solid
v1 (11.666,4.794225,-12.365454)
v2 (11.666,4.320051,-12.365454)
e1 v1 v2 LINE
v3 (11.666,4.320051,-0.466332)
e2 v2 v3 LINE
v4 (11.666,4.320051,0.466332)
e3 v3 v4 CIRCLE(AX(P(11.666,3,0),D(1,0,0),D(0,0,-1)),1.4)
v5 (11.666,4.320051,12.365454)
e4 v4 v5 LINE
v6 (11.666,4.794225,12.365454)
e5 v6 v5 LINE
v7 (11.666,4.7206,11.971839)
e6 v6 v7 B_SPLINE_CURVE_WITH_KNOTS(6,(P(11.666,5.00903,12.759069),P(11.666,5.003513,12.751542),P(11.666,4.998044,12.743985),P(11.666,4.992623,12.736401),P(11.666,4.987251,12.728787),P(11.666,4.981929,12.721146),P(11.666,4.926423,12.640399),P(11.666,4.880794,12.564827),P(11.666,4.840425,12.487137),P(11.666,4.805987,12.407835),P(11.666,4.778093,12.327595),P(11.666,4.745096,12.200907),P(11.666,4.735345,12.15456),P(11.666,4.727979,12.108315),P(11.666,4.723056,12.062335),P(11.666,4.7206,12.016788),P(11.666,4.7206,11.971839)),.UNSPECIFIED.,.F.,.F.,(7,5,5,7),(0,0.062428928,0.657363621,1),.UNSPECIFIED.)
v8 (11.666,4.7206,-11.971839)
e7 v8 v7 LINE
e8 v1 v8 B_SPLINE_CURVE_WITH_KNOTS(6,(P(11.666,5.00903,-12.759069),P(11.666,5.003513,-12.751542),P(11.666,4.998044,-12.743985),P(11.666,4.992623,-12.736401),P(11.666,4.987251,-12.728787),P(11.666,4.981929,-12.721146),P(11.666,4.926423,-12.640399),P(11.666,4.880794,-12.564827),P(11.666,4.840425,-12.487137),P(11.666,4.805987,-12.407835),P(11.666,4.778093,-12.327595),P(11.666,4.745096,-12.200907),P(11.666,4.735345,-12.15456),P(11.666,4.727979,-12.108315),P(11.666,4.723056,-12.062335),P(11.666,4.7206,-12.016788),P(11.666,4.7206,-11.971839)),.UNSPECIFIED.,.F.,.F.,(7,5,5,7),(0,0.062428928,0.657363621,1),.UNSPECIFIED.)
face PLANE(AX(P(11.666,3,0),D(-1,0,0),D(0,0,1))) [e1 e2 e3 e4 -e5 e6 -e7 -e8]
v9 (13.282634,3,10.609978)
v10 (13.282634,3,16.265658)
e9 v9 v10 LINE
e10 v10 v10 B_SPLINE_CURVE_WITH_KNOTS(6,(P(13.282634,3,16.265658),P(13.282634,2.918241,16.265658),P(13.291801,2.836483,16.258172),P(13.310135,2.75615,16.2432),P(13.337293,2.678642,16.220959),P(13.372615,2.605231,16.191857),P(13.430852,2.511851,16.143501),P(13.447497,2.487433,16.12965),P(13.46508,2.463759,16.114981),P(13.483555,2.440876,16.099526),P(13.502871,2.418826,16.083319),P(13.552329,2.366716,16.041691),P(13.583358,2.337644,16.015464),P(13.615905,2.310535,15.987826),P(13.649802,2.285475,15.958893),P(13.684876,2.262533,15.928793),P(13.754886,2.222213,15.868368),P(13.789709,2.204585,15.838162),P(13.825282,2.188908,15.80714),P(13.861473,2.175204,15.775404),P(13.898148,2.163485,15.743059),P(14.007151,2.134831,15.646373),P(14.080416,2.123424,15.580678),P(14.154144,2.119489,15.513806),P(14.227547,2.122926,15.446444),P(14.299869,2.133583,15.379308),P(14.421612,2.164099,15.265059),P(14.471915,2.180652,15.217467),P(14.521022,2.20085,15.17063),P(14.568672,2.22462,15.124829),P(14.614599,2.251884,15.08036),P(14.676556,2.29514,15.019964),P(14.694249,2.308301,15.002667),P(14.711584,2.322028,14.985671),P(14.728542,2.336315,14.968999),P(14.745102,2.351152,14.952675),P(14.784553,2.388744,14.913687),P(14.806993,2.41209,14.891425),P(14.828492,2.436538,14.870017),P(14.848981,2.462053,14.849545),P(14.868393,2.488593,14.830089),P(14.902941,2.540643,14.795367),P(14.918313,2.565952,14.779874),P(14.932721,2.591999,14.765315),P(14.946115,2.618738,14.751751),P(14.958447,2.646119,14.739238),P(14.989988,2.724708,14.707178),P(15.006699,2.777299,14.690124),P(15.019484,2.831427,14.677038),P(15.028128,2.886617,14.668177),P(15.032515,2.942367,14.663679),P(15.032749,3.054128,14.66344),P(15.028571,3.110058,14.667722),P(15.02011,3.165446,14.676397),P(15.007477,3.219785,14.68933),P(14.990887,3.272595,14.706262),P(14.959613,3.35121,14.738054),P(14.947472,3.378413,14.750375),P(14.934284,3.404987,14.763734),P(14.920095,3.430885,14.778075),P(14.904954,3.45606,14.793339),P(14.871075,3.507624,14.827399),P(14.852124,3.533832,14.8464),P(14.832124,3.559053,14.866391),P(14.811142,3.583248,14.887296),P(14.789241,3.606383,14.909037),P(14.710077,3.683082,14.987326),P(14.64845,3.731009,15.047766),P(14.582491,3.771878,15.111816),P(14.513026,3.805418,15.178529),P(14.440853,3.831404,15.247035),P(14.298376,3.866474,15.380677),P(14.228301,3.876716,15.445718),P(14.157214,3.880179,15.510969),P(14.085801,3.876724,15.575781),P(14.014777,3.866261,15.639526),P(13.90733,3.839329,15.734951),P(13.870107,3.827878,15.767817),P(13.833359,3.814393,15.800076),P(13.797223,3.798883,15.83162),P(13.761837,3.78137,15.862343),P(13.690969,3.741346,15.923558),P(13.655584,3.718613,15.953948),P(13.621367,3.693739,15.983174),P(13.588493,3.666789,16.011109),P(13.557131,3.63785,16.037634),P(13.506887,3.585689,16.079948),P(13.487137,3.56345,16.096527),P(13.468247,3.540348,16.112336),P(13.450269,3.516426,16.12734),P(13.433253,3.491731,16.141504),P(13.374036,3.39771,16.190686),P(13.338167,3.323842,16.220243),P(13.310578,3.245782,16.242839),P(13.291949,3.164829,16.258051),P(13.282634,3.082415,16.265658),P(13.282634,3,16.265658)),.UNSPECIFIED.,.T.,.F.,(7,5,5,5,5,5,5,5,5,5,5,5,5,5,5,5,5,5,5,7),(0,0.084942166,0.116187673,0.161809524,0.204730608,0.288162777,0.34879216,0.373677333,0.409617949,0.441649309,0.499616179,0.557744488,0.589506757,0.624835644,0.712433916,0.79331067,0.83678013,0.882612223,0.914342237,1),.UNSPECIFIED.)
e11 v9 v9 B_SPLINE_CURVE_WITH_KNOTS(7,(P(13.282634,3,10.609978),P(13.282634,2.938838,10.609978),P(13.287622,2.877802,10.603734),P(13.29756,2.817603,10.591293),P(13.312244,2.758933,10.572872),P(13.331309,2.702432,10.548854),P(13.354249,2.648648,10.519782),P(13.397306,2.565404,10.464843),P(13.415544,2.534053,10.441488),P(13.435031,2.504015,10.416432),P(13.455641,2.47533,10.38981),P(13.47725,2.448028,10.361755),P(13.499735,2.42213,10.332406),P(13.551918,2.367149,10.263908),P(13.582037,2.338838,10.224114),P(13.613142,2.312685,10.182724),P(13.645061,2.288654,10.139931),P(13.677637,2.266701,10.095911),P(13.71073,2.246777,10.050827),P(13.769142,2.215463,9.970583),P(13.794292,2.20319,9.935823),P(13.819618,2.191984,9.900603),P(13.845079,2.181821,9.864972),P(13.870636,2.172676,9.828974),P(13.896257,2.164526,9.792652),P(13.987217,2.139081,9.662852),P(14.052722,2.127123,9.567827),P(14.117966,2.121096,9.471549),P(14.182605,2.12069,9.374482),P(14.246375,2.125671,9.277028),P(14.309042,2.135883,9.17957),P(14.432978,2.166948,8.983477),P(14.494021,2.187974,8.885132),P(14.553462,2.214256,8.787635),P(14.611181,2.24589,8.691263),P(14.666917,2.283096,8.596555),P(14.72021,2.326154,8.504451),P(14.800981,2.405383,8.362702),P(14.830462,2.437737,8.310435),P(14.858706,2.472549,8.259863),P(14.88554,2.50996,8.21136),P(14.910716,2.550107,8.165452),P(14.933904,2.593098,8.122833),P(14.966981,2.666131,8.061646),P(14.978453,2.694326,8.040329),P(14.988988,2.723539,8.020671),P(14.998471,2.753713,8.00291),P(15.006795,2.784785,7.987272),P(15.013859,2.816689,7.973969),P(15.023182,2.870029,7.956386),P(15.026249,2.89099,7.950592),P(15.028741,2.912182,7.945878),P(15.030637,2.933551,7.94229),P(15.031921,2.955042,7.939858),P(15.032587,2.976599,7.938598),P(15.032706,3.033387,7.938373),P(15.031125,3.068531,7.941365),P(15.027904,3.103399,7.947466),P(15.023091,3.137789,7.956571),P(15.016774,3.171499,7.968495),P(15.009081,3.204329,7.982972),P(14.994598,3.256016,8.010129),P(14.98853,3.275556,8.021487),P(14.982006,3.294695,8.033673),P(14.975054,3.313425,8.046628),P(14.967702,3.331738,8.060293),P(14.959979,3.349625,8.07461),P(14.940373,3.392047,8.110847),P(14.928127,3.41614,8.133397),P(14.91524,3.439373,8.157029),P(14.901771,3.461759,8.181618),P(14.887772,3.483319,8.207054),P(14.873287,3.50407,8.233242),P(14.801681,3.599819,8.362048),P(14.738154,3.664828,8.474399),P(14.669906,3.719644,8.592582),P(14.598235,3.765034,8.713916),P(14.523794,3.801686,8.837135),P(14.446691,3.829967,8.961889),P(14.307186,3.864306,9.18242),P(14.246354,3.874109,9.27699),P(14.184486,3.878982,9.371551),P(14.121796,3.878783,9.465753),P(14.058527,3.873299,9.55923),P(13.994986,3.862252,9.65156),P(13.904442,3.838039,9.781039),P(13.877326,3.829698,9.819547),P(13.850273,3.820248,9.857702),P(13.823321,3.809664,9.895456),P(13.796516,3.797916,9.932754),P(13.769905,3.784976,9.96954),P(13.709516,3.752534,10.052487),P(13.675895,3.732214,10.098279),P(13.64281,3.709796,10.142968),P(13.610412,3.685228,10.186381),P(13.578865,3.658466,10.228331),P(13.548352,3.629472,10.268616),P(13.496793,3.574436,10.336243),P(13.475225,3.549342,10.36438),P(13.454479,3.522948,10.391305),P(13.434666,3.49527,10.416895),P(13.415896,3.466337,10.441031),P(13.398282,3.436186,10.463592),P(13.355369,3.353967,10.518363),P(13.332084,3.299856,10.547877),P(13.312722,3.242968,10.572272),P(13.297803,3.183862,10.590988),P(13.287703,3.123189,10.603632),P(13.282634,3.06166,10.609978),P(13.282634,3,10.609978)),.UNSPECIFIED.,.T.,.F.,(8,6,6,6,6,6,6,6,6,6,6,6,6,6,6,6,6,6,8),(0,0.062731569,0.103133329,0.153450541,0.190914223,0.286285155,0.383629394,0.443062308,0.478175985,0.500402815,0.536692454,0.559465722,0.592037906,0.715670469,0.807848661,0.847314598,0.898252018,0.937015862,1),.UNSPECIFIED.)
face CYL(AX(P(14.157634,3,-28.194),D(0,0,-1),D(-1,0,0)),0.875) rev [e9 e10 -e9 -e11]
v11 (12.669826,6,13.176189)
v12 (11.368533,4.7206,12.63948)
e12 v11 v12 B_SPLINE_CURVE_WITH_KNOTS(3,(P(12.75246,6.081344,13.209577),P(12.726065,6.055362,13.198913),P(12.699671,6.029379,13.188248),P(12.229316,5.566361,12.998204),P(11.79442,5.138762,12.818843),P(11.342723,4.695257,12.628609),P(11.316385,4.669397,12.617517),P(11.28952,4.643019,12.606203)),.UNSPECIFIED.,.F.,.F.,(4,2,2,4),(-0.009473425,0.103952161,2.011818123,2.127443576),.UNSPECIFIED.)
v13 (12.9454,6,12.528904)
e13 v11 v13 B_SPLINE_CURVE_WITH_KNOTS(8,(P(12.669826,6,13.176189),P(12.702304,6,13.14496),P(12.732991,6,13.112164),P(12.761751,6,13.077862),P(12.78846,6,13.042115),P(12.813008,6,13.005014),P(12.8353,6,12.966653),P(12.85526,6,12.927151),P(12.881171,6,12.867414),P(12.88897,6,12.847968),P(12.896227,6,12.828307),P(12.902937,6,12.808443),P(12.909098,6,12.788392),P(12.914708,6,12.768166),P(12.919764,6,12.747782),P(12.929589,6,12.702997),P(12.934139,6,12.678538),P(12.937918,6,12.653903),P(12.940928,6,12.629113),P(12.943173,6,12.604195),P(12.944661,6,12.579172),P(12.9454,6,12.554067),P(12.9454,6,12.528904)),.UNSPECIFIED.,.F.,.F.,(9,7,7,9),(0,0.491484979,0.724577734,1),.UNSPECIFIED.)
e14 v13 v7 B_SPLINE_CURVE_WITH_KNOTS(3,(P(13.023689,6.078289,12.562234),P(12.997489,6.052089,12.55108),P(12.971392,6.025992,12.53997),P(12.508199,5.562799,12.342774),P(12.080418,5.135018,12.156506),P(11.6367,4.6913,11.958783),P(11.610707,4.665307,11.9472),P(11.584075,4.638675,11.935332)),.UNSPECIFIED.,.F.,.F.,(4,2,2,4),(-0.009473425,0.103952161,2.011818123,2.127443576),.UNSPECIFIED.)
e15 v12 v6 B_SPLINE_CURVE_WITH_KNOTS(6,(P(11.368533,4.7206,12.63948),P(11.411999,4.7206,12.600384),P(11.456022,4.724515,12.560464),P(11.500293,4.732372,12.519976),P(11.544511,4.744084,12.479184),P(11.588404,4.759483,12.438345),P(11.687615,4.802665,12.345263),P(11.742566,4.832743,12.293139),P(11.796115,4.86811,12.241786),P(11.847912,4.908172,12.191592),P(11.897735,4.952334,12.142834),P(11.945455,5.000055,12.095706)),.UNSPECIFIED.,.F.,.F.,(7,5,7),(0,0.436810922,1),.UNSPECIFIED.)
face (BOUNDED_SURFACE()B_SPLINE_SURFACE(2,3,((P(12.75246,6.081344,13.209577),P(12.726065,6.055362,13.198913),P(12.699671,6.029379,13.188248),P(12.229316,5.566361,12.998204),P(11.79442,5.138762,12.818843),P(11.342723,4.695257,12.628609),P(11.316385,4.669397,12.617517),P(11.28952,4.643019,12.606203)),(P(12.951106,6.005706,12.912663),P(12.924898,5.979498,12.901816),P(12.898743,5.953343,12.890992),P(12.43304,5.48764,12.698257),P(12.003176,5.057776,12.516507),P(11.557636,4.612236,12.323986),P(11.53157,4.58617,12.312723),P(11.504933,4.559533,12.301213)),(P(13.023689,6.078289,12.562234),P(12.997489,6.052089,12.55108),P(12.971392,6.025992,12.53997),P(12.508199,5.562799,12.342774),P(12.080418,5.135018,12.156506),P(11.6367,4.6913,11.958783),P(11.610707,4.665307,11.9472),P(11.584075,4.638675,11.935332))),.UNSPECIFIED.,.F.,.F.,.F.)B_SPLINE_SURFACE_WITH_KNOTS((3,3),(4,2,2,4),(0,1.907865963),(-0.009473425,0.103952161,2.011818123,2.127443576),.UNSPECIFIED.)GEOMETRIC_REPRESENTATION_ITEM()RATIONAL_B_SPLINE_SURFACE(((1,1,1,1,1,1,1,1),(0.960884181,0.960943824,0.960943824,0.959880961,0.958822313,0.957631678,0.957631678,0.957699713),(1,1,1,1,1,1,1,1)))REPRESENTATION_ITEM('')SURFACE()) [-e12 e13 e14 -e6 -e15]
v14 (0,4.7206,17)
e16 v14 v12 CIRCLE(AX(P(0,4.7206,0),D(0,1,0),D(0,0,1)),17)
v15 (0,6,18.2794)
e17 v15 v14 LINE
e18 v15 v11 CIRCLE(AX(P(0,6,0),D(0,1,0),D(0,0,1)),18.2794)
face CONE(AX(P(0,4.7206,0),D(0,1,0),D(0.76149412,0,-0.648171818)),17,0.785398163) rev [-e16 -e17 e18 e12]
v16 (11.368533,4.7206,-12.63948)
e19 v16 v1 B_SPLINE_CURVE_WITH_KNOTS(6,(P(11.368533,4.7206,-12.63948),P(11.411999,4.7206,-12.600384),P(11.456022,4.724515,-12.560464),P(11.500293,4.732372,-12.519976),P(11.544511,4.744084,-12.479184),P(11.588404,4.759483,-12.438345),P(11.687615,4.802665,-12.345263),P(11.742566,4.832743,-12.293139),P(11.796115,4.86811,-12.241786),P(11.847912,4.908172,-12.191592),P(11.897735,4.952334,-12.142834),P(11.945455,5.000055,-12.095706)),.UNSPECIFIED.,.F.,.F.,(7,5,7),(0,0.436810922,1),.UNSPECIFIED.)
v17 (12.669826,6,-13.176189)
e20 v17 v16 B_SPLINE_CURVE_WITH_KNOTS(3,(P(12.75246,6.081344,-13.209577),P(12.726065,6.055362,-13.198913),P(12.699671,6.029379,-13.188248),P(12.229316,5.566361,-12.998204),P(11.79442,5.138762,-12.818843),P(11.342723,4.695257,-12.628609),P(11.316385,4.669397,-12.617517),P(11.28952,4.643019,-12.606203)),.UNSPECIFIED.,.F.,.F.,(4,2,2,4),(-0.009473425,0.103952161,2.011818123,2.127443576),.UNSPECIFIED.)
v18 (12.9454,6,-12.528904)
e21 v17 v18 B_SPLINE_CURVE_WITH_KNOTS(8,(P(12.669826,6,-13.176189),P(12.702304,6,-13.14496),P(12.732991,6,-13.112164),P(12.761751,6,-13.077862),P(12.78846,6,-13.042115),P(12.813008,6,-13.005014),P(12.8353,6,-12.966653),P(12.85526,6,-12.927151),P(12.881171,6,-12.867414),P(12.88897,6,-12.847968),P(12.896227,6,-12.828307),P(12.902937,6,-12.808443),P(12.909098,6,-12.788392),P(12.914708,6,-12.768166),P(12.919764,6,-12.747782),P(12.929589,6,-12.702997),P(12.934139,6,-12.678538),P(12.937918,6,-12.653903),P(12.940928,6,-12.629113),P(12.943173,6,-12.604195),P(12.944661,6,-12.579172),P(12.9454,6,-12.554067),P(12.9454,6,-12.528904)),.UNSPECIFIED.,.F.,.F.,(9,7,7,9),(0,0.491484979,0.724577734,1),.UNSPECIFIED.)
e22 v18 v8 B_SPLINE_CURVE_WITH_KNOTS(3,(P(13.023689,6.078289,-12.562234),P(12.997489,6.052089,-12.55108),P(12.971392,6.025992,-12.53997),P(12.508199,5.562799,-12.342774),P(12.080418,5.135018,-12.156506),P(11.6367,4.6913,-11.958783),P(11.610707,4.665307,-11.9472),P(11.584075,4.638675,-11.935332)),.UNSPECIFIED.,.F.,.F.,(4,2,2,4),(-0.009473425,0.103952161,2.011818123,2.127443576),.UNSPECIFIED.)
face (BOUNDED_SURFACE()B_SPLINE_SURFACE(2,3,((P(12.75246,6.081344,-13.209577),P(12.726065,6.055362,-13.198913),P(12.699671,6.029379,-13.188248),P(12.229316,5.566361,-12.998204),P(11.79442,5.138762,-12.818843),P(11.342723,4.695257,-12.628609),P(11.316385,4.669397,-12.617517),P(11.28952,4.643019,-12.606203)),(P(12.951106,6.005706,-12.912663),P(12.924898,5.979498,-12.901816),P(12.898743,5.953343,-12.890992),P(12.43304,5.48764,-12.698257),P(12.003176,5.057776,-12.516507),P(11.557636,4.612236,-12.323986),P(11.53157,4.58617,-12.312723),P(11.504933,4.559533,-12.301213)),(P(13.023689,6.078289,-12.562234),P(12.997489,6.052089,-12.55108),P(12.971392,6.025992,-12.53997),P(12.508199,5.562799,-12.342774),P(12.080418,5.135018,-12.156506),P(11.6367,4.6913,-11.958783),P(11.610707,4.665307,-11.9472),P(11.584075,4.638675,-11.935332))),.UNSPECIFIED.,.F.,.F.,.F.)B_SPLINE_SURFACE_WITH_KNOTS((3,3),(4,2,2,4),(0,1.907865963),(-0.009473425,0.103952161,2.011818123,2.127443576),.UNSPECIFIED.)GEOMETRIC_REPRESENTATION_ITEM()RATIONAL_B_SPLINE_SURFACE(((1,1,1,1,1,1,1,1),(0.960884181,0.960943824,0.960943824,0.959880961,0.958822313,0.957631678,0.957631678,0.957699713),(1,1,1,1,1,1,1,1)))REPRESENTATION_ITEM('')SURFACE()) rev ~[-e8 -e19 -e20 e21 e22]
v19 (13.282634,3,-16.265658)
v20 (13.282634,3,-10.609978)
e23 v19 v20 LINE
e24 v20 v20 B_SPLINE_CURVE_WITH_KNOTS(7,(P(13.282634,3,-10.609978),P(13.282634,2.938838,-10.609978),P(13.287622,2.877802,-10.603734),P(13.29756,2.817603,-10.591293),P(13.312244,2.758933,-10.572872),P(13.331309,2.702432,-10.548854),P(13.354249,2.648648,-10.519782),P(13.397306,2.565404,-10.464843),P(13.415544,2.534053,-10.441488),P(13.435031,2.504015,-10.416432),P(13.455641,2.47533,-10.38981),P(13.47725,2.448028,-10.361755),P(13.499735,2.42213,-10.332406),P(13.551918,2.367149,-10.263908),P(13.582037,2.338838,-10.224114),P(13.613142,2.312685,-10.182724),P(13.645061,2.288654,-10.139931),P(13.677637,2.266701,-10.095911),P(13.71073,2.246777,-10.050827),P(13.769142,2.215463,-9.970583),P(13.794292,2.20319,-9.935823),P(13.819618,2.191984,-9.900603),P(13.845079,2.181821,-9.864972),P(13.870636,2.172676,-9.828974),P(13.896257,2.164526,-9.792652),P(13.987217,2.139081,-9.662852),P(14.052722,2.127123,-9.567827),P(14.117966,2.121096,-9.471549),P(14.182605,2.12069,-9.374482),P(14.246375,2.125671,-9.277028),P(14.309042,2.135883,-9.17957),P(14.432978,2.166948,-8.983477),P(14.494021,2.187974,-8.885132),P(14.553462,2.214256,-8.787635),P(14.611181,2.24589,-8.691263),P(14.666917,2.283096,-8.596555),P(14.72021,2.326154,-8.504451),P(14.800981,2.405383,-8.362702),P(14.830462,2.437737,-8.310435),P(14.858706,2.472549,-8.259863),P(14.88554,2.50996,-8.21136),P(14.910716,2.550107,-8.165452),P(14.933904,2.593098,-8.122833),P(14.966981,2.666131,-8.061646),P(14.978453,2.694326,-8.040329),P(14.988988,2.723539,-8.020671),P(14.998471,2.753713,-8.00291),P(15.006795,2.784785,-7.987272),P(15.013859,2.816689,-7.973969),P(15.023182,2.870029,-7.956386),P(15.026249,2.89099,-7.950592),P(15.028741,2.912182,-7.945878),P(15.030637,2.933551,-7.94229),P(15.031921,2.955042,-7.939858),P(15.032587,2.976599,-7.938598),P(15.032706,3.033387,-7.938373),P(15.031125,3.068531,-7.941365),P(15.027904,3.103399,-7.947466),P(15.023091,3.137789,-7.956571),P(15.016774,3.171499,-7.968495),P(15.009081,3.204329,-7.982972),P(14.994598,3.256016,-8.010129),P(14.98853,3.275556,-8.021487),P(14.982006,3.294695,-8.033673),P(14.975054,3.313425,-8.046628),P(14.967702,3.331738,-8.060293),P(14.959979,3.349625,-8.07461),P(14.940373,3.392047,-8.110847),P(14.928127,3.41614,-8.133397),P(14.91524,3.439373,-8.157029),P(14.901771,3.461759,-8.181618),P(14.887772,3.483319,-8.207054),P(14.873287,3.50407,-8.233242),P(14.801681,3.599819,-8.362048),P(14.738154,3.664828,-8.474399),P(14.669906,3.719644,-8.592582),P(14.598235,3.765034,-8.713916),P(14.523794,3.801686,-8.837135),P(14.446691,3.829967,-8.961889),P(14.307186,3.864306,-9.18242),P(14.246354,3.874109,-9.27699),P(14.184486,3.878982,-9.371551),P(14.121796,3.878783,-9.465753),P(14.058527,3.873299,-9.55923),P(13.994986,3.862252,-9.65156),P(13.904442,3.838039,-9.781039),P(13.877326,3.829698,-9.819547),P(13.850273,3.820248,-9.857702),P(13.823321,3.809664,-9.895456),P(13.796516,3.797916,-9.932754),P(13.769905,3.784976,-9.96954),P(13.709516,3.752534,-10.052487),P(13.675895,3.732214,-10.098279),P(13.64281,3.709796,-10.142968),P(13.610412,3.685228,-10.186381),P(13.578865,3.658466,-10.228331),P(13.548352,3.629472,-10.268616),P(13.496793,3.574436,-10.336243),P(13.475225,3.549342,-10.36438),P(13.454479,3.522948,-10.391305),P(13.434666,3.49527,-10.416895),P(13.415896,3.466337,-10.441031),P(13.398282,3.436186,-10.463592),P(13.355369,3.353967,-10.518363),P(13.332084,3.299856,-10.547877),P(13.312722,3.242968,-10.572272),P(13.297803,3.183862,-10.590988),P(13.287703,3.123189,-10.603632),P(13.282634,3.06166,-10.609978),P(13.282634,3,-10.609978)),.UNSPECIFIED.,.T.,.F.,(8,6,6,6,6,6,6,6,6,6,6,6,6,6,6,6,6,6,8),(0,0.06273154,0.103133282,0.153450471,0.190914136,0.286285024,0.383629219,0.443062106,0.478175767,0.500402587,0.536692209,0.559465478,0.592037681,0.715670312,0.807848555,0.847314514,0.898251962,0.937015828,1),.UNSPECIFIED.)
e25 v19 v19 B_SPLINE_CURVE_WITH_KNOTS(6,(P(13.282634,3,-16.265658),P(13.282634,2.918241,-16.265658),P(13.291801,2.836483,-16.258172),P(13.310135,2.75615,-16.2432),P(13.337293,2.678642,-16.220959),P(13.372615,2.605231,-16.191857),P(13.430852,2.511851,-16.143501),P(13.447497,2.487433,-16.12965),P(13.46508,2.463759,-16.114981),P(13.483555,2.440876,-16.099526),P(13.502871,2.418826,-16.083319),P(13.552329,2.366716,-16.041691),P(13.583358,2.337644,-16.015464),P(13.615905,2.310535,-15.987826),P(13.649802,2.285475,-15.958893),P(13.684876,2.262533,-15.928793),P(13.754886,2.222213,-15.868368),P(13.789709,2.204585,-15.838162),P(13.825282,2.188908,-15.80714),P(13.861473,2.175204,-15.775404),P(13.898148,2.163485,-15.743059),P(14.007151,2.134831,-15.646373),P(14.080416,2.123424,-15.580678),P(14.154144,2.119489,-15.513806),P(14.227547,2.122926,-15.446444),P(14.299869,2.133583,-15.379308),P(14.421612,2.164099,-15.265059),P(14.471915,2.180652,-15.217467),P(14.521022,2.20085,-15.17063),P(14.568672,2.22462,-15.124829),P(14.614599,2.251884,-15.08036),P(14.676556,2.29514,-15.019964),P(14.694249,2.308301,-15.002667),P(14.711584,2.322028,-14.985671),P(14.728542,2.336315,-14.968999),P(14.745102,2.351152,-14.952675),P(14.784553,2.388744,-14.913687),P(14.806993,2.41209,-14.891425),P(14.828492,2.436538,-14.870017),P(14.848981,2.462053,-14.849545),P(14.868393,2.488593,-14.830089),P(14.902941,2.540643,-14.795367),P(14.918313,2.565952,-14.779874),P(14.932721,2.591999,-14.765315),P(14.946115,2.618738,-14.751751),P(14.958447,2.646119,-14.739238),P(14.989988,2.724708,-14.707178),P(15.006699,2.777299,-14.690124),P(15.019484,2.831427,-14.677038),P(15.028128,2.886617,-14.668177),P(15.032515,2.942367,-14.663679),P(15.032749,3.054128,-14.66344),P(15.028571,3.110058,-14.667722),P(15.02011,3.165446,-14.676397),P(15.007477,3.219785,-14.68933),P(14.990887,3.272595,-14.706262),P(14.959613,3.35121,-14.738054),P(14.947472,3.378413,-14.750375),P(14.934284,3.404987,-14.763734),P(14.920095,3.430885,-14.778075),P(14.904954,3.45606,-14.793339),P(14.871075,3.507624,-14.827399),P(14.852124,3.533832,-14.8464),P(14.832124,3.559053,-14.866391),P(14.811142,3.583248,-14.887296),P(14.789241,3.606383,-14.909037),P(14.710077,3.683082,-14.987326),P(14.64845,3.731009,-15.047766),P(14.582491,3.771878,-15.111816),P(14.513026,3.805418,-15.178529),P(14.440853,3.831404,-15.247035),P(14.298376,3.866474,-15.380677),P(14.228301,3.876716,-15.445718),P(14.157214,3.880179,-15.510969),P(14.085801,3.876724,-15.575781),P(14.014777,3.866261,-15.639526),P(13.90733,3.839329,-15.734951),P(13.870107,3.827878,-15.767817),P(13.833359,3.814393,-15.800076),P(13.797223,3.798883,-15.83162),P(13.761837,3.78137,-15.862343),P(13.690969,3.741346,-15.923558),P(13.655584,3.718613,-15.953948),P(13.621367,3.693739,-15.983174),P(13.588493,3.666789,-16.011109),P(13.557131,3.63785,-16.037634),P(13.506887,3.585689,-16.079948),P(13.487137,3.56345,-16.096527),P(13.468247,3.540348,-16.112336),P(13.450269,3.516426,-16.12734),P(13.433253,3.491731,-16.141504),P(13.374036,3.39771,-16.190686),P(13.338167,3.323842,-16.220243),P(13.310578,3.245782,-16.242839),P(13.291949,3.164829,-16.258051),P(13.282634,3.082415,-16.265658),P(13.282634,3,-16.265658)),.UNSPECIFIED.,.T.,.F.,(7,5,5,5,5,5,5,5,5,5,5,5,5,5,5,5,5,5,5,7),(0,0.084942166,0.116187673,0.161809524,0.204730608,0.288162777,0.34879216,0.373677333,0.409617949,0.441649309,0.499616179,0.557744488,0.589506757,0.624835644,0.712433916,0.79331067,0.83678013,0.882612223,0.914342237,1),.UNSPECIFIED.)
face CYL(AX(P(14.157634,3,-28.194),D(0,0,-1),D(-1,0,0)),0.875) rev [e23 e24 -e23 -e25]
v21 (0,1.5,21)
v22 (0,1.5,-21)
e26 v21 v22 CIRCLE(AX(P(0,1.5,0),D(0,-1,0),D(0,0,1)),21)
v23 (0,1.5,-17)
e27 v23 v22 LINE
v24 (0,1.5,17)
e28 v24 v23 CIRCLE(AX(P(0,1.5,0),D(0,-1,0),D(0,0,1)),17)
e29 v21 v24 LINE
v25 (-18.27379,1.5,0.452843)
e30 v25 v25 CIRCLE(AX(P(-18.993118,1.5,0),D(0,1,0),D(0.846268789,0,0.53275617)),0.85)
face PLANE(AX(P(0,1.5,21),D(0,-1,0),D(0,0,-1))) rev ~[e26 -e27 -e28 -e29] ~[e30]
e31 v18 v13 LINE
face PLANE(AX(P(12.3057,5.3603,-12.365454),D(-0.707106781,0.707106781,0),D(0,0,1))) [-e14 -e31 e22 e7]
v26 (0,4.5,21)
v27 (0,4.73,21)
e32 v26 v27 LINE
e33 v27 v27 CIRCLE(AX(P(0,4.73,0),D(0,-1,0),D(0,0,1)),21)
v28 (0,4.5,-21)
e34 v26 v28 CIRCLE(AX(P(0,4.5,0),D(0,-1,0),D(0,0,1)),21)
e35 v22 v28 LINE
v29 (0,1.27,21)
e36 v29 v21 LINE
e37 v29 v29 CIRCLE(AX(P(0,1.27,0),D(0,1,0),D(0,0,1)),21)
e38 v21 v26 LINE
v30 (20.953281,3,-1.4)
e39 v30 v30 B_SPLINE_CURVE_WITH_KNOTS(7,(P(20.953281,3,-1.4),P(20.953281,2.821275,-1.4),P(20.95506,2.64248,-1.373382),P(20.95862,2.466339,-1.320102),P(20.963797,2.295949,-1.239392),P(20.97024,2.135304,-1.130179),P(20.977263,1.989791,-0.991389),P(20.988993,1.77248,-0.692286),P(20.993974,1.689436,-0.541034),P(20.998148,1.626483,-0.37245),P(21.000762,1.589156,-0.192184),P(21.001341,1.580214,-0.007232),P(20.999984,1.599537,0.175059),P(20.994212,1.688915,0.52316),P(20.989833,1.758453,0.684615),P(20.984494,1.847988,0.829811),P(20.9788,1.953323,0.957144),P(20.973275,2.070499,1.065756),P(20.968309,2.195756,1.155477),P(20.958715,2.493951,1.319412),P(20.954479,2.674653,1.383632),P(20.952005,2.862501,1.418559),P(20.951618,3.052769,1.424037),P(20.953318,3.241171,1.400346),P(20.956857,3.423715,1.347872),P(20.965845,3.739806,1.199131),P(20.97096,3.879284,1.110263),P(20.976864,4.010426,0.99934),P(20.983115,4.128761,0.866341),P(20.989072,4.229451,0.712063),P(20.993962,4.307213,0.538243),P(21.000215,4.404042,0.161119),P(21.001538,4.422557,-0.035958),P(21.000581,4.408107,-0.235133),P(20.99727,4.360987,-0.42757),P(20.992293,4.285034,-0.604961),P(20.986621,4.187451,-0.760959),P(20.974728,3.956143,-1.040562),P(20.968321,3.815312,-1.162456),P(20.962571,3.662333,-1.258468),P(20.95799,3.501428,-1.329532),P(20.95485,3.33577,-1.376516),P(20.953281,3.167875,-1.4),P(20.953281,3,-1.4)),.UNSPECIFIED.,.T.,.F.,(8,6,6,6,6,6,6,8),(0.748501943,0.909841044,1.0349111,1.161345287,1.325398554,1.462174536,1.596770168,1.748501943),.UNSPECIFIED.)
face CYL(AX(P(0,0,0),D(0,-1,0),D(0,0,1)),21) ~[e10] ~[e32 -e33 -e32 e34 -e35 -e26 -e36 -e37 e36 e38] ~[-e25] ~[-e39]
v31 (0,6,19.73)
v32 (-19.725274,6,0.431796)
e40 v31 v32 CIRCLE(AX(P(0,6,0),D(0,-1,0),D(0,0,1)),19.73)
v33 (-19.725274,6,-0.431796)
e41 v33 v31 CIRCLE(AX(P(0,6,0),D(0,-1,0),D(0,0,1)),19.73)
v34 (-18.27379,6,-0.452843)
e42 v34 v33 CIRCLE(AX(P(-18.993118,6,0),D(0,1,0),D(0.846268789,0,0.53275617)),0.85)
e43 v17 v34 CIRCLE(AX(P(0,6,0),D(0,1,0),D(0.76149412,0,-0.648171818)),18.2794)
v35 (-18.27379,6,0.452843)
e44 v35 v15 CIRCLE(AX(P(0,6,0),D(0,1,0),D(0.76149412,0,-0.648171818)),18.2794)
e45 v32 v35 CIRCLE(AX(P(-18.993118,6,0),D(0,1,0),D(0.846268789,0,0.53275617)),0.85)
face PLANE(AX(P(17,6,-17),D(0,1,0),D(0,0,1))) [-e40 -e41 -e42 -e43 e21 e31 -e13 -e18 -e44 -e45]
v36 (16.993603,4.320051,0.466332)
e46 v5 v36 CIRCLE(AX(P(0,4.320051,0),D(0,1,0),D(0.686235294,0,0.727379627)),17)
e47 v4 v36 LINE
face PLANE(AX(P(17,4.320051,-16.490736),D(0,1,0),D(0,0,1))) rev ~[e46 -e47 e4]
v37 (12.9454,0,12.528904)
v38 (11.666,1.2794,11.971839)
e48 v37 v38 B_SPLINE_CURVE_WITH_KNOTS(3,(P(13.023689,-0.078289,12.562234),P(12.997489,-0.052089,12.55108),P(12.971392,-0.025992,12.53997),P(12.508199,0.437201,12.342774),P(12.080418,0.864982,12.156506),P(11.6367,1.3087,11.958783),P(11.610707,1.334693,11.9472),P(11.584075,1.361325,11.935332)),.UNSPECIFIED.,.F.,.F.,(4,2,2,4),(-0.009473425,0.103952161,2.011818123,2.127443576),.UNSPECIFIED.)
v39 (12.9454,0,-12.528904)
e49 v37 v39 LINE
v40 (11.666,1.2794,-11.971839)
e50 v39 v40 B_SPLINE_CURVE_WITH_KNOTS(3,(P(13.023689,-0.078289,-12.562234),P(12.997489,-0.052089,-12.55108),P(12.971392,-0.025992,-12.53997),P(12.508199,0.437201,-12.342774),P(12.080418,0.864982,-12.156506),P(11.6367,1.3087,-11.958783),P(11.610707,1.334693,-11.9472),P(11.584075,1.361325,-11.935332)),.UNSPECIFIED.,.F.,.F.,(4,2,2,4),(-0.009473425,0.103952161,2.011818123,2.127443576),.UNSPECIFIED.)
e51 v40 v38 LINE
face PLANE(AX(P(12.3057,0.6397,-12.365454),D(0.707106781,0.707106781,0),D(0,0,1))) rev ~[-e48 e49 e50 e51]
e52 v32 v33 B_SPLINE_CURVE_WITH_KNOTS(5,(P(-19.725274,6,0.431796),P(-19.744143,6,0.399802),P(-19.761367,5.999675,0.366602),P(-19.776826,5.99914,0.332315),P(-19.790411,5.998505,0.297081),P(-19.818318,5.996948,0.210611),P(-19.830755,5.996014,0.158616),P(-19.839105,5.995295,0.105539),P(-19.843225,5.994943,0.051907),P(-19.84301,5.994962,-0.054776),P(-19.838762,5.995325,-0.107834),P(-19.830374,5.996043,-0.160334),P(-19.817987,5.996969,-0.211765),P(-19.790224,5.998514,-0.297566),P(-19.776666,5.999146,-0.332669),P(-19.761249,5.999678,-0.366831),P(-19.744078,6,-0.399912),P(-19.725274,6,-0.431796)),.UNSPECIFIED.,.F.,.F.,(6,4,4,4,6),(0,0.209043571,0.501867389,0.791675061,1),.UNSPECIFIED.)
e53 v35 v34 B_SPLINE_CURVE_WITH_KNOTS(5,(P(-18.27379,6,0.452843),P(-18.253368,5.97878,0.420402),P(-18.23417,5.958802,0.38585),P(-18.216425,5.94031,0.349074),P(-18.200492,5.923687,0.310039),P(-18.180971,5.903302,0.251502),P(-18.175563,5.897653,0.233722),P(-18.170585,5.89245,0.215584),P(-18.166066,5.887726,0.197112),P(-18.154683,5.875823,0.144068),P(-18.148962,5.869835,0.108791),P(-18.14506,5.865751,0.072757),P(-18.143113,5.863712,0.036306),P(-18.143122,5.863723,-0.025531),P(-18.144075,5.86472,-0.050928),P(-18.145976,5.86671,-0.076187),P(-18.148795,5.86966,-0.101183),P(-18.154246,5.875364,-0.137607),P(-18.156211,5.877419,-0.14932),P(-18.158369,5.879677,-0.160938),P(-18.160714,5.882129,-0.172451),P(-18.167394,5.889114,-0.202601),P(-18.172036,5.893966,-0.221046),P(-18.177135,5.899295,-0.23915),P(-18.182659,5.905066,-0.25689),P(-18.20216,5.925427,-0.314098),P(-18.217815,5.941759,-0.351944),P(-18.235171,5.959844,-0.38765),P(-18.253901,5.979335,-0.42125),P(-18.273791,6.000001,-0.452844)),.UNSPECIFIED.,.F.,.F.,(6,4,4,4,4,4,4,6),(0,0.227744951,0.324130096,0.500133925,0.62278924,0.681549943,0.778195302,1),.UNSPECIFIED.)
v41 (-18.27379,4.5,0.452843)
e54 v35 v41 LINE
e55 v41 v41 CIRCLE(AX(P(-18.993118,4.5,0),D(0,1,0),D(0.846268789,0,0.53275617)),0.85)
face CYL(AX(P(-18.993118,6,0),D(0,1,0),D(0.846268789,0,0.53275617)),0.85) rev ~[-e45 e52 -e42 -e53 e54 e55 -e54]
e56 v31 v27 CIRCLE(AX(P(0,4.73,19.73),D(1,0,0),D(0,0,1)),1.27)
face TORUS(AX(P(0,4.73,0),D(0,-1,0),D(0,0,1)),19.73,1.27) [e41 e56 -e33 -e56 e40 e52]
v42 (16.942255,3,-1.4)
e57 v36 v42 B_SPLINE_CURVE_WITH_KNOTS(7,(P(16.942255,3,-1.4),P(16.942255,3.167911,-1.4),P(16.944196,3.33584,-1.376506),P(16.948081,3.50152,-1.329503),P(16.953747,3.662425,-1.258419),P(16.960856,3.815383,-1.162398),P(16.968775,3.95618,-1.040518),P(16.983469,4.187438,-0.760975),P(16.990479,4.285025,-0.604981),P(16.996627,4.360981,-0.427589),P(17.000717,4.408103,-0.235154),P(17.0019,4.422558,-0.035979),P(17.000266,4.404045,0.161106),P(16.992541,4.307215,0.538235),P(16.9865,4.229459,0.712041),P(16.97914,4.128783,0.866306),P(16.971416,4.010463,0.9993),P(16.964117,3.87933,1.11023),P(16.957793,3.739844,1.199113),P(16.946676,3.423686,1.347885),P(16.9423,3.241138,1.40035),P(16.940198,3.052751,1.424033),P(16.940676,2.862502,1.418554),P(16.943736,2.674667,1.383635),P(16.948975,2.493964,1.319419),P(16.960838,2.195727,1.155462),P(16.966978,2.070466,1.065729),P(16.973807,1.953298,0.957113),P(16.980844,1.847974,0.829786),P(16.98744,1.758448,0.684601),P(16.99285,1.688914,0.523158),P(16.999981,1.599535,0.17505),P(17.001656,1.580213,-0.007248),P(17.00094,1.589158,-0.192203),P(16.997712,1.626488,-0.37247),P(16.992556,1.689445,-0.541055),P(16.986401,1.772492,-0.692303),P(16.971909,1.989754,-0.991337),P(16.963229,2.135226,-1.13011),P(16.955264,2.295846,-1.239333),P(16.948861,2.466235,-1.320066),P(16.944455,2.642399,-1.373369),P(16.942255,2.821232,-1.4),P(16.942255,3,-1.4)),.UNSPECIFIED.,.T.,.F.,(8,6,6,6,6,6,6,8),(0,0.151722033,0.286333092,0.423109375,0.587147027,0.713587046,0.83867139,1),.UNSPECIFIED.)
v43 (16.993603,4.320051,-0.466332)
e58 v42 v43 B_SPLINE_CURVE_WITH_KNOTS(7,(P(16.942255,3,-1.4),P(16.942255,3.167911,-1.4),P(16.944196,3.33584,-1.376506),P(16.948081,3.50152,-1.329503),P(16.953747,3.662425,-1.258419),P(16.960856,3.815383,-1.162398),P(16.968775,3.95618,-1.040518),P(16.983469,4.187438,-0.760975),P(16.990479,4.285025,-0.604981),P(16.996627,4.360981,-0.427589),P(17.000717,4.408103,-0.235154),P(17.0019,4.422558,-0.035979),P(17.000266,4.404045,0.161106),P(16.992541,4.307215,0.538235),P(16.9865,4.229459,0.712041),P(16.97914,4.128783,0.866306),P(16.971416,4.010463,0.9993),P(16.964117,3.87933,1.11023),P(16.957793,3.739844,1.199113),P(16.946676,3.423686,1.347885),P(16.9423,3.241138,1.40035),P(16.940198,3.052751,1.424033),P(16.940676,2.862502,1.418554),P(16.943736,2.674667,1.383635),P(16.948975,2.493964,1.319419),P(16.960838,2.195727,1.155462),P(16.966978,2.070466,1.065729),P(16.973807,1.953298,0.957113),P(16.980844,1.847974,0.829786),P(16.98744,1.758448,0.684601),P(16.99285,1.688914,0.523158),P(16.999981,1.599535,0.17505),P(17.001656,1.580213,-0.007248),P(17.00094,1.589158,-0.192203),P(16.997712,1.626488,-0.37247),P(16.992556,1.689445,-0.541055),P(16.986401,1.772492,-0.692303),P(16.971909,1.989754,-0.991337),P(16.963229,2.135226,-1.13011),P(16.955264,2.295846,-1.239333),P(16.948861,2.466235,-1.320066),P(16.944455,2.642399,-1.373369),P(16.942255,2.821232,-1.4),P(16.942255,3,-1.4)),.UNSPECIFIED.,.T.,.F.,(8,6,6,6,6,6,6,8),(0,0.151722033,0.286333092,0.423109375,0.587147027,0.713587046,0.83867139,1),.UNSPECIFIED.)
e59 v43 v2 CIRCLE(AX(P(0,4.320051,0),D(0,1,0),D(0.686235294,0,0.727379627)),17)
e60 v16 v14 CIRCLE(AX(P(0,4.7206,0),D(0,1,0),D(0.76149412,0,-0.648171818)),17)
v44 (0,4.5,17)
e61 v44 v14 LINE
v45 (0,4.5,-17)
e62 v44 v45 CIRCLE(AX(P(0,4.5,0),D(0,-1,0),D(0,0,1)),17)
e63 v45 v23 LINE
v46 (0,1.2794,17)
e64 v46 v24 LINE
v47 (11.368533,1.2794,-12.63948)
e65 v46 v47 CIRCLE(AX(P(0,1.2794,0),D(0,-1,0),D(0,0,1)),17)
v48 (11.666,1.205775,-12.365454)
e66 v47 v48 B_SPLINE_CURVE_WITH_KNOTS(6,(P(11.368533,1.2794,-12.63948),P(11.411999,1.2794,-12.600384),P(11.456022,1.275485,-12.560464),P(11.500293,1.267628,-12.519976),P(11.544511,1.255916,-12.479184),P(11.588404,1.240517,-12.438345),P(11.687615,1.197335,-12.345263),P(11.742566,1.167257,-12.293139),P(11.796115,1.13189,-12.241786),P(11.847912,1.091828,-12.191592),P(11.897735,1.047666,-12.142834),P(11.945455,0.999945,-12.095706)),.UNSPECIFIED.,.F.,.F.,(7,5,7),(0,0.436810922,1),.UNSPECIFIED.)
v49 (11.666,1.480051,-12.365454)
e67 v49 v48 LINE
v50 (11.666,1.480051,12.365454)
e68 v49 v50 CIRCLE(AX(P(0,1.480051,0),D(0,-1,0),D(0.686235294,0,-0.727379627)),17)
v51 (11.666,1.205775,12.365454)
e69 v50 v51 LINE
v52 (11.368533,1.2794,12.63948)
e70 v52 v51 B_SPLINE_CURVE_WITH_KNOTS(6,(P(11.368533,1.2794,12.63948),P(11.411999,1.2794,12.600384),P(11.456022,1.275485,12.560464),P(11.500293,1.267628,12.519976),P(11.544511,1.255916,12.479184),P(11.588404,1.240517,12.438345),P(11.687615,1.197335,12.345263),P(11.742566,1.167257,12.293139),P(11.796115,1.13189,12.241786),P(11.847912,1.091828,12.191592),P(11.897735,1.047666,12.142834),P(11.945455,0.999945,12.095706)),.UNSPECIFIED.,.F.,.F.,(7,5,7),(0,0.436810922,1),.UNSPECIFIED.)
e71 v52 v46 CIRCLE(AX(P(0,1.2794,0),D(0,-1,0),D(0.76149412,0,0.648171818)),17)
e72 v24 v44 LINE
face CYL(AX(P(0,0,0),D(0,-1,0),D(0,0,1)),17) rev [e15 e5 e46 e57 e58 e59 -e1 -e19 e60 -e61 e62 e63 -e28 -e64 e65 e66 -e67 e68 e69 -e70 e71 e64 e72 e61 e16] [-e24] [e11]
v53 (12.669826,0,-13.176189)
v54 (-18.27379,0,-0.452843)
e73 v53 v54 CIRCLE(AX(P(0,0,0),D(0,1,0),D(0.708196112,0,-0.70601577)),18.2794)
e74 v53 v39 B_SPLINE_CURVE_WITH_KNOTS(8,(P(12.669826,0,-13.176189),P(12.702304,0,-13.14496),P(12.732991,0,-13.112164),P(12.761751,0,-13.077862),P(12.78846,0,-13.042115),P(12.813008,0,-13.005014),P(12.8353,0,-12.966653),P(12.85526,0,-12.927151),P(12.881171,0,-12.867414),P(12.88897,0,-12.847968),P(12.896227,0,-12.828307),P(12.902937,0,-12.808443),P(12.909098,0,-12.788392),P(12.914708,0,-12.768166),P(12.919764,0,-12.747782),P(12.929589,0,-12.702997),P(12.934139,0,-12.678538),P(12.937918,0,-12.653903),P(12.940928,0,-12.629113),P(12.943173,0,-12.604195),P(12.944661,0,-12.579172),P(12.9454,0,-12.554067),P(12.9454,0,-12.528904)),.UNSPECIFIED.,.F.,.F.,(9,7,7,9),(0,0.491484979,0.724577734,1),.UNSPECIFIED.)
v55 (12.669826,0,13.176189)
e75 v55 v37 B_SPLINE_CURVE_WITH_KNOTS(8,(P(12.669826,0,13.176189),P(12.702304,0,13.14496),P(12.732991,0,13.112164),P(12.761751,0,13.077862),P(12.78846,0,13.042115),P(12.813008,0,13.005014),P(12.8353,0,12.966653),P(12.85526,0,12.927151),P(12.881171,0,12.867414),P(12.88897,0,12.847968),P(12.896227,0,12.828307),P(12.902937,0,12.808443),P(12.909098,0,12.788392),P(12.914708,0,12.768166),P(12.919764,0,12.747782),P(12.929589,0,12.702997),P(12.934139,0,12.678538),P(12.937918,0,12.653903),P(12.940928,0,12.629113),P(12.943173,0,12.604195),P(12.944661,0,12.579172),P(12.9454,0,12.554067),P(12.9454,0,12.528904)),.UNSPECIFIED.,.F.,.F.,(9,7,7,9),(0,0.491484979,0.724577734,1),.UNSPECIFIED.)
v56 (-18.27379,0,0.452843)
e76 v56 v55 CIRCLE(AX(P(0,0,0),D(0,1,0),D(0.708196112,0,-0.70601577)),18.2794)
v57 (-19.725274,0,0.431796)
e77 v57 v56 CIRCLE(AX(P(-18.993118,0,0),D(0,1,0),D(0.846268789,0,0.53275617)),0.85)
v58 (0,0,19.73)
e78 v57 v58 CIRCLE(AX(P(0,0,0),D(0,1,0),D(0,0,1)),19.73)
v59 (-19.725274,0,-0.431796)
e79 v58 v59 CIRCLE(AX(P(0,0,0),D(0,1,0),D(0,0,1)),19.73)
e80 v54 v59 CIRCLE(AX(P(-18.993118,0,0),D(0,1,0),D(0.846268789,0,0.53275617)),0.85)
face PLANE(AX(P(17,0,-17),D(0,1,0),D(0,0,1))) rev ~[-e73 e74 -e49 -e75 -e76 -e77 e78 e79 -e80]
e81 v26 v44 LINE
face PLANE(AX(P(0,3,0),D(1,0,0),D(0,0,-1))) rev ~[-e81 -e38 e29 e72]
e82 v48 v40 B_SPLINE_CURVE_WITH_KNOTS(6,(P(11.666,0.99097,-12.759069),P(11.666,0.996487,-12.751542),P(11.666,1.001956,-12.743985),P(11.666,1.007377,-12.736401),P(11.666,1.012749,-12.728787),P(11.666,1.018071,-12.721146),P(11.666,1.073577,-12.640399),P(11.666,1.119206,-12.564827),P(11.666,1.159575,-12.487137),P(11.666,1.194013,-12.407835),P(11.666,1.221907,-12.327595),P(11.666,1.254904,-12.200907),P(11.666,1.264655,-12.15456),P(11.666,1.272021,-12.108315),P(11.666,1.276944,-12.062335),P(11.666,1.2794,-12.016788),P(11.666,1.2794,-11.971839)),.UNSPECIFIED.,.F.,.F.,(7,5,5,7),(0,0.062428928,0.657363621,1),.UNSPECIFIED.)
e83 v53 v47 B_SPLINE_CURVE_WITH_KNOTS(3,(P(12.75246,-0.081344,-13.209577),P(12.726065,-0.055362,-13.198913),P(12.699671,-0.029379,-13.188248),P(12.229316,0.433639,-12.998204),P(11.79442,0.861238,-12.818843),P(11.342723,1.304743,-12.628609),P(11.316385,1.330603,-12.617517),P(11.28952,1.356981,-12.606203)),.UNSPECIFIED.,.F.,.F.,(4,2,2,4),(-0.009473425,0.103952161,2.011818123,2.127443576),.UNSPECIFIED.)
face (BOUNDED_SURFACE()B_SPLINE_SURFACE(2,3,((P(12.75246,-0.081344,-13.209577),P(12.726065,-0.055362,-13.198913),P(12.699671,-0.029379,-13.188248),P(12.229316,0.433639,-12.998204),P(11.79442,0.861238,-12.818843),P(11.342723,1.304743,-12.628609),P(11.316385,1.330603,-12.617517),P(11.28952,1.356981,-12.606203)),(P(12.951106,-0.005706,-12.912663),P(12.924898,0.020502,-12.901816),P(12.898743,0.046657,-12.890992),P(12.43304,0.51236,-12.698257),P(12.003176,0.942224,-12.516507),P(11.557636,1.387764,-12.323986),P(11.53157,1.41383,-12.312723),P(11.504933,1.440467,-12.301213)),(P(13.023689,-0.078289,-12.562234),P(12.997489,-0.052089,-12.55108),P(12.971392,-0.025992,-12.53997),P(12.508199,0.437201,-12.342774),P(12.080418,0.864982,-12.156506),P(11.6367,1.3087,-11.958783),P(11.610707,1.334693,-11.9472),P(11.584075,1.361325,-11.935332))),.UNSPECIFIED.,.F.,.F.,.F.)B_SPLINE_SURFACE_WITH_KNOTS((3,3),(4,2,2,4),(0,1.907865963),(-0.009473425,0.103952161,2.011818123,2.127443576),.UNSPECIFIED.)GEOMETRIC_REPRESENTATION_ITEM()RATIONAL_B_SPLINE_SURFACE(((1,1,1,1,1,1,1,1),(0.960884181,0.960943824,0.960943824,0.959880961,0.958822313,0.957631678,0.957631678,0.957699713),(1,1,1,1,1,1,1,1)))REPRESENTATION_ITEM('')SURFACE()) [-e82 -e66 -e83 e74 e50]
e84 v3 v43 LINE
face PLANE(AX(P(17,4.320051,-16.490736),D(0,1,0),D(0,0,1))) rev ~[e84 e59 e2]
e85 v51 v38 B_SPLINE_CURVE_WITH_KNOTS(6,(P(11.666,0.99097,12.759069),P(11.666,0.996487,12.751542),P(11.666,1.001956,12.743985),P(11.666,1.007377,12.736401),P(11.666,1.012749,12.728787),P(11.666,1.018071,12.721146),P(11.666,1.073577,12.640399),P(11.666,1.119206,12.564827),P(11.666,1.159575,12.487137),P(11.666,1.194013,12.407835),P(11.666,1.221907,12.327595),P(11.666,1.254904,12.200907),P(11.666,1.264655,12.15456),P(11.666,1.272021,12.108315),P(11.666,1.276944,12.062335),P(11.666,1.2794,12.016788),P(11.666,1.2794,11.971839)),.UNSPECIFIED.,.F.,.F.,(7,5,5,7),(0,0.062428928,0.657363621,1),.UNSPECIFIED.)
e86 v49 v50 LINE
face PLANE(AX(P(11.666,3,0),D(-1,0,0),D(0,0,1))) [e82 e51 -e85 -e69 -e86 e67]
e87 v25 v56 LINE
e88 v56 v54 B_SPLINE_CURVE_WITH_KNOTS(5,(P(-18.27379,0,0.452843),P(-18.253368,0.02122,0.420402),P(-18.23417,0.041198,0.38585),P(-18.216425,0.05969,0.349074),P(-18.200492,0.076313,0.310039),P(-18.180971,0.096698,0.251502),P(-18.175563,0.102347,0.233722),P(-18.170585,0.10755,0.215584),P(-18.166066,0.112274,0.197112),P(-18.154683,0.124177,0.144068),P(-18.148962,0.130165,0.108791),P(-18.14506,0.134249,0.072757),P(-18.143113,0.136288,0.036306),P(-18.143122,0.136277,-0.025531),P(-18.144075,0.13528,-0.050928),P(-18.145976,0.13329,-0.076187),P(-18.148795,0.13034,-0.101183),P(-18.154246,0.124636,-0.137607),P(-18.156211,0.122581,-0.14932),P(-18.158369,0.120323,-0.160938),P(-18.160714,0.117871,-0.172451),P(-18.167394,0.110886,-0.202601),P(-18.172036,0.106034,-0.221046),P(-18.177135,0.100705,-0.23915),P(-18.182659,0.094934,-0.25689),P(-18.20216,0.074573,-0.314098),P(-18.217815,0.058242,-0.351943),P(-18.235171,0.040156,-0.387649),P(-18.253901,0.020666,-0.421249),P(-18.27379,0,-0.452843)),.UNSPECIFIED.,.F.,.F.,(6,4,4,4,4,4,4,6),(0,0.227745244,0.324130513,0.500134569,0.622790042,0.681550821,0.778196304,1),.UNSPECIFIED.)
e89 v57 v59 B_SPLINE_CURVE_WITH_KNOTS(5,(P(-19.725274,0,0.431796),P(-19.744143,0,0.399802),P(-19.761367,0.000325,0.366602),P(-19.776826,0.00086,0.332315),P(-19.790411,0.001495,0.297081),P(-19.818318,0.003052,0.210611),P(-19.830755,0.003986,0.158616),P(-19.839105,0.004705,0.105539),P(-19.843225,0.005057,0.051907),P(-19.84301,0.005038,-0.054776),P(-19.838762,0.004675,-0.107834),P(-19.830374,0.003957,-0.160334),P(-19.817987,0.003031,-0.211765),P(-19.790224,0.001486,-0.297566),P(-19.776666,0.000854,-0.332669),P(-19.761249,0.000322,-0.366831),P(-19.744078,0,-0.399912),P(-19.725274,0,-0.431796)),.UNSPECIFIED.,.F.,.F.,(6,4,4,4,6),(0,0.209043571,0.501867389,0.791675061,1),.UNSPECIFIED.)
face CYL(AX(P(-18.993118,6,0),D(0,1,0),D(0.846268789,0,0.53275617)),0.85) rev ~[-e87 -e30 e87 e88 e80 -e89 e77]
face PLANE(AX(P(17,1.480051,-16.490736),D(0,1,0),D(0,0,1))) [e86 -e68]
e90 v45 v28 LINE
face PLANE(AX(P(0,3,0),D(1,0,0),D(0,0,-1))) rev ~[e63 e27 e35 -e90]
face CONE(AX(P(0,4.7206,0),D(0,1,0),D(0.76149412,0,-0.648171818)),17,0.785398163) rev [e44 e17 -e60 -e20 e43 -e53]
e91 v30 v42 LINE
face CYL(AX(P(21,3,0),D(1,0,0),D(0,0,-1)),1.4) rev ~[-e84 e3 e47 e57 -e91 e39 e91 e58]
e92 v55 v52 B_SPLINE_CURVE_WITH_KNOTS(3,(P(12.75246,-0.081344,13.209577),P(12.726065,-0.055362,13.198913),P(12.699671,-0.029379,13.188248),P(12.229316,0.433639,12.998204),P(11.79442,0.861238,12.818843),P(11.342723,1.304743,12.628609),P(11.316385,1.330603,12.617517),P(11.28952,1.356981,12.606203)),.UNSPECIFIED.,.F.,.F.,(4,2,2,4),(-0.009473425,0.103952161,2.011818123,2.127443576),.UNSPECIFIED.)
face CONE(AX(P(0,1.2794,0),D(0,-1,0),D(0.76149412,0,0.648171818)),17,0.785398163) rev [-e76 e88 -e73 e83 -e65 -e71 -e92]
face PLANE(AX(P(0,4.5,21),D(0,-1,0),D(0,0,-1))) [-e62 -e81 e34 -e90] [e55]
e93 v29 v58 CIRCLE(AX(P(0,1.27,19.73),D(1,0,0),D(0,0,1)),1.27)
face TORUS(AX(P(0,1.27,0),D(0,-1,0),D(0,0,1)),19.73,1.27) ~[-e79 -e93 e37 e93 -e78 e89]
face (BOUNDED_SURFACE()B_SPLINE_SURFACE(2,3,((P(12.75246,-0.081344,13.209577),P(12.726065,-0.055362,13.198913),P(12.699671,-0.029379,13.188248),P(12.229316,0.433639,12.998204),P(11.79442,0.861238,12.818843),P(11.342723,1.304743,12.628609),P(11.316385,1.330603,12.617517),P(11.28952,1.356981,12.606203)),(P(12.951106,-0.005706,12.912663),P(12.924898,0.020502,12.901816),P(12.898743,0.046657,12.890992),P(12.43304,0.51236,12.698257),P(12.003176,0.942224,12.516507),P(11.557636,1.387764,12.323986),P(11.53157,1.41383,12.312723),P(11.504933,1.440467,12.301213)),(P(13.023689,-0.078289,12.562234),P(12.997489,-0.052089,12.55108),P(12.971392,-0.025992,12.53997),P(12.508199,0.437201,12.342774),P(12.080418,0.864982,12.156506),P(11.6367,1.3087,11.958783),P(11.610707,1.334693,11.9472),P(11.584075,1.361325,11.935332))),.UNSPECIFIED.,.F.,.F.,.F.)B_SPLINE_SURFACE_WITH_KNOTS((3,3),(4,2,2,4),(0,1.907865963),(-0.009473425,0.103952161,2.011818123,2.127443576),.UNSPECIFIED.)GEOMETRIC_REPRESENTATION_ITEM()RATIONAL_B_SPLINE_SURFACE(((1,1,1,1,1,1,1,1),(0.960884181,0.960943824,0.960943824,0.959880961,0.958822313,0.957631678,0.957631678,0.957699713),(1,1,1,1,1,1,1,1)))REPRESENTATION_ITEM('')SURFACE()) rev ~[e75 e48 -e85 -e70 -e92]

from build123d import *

# Parameters (mm, degrees)
SKETCH1_R               = 21
SKETCH1_R_2             = 17
BOSS_EXTRUDE1_DEPTH     = 6
SKETCH2_W               = 42
SKETCH2_H               = 3
CUT_EXTRUDE1_DEPTH      = 25.812
SKETCH3_W               = 34
SKETCH3_H               = 6
SKETCH3_W_2             = 33.201655863
SKETCH3_H_2             = 2.84
BOSS_EXTRUDE2_DEPTH     = 5.334
CUT_EXTRUDE2_START      = -19.05
SKETCH4_R               = 24.04163056
SKETCH4_R_2             = 21
CUT_EXTRUDE2_DEPTH      = 19.05
SKETCH5_R               = 1.4
CUT_EXTRUDE3_DEPTH      = 19.05
CHAMFER1_SIZE           = 1.279400032
CHAMFER2_SIZE           = 1.279400032
FILLET2_R               = 1.27
SKETCH8_R               = 0.85
CUT_EXTRUDE7_DEPTH      = 15.494
FILLET3_R               = 1.27
CUT_EXTRUDE8_DEPTH      = 19.812
CUT_EXTRUDE8_DEPTH_BACK = 28.194
SKETCH9_R               = 0.875


with BuildPart() as part:
    # Sketch1 → Boss-Extrude1 (new body)
    with BuildSketch(Plane(origin=(0, 0, 0), x_dir=(1, 0, 0), z_dir=(0, 1, 0))):
        with Locations(Location((0, 0, 0), (0, 0, 270))):
            Circle(SKETCH1_R)
        with Locations(Location((0, 0, 0), (0, 0, 270))):
            Circle(SKETCH1_R_2, mode=Mode.SUBTRACT)
    extrude(amount=BOSS_EXTRUDE1_DEPTH)

    # Sketch2 → Cut-Extrude1 (cut)
    with BuildSketch(Plane(origin=(0, 0, 0), x_dir=(0, 0, -1), z_dir=(1, 0, 0))):
        with Locations((0, 3)):
            Rectangle(SKETCH2_W, SKETCH2_H)
    extrude(amount=-CUT_EXTRUDE1_DEPTH, mode=Mode.SUBTRACT)

    # Sketch3 → Boss-Extrude2 (add)
    with BuildSketch(Plane.ZY.offset(-17)):
        with Locations((0, 3)):
            Rectangle(SKETCH3_W, SKETCH3_H)
        with Locations((0.110091931, 2.900051081)):
            Rectangle(SKETCH3_W_2, SKETCH3_H_2, mode=Mode.SUBTRACT)
    extrude(amount=BOSS_EXTRUDE2_DEPTH)

    # Sketch4 → Cut-Extrude2 (cut)
    with BuildSketch(Plane(origin=(0, 6, 0), x_dir=(1, 0, 0), z_dir=(0, 1, 0)).offset(CUT_EXTRUDE2_START)):
        Circle(SKETCH4_R)
        with Locations(Location((0, 0, 0), (0, 0, 270))):
            Circle(SKETCH4_R_2, mode=Mode.SUBTRACT)
    extrude(amount=CUT_EXTRUDE2_DEPTH, mode=Mode.SUBTRACT)

    # Sketch5 → Cut-Extrude3 (cut)
    with BuildSketch(Plane(origin=(21, 0, 0), x_dir=(0, 0, -1), z_dir=(1, 0, 0))):
        with Locations((0, 3)):
            Circle(SKETCH5_R)
    extrude(amount=-CUT_EXTRUDE3_DEPTH, mode=Mode.SUBTRACT)

    # Chamfer1
    chamfer1_edges = [part.edges().sort_by_distance(p)[0] for p in [
        (11.666, 6, 0),
        (11.666, 0, 0),
    ]]
    chamfer(chamfer1_edges, length=CHAMFER1_SIZE)

    # Chamfer2
    chamfer2_edges = [part.edges().sort_by_distance(p)[0] for p in [
        (-15.432460197, 0, -7.130159344),
        (-15.432460197, 6, -7.130159344),
    ]]
    chamfer(chamfer2_edges, length=CHAMFER2_SIZE)

    # Fillet2
    fillet2_edges = [part.edges().sort_by_distance(p)[0] for p in [
        (-12.328828006, 6, -17),
        (-12.328828006, 0, -17),
    ]]
    fillet(fillet2_edges, radius=FILLET2_R)

    # Sketch8 → Cut-Extrude7 (cut)
    with BuildSketch(Plane(origin=(0, 6, 0), x_dir=(1, 0, 0), z_dir=(0, 1, 0))):
        with Locations(Location((-18.993118417, 0, 0), (0, 0, 327.808132049))):
            Circle(SKETCH8_R)
    extrude(amount=-CUT_EXTRUDE7_DEPTH, mode=Mode.SUBTRACT)

    # Fillet3
    fillet3_edges = [part.edges().sort_by_distance(p)[0] for p in [
        (12.305140757, 0.640259275, 12.638148503),
        (12.305140757, 0.640259275, -12.638148503),
        (12.305140757, 5.359740725, 12.638148503),
        (12.305140757, 5.359740725, -12.638148503),
    ]]
    fillet(fillet3_edges, radius=FILLET3_R)

    # Sketch9 → Cut-Extrude8 (cut, two sides: drawn at the far end of the back side and taken through both)
    with BuildSketch(Plane.XY.offset(-CUT_EXTRUDE8_DEPTH_BACK)):
        with Locations(Location((14.157633808, 3, 0), (0, 0, 180))):
            Circle(SKETCH9_R)
    extrude(amount=CUT_EXTRUDE8_DEPTH + CUT_EXTRUDE8_DEPTH_BACK, mode=Mode.SUBTRACT)


solid = part.part
